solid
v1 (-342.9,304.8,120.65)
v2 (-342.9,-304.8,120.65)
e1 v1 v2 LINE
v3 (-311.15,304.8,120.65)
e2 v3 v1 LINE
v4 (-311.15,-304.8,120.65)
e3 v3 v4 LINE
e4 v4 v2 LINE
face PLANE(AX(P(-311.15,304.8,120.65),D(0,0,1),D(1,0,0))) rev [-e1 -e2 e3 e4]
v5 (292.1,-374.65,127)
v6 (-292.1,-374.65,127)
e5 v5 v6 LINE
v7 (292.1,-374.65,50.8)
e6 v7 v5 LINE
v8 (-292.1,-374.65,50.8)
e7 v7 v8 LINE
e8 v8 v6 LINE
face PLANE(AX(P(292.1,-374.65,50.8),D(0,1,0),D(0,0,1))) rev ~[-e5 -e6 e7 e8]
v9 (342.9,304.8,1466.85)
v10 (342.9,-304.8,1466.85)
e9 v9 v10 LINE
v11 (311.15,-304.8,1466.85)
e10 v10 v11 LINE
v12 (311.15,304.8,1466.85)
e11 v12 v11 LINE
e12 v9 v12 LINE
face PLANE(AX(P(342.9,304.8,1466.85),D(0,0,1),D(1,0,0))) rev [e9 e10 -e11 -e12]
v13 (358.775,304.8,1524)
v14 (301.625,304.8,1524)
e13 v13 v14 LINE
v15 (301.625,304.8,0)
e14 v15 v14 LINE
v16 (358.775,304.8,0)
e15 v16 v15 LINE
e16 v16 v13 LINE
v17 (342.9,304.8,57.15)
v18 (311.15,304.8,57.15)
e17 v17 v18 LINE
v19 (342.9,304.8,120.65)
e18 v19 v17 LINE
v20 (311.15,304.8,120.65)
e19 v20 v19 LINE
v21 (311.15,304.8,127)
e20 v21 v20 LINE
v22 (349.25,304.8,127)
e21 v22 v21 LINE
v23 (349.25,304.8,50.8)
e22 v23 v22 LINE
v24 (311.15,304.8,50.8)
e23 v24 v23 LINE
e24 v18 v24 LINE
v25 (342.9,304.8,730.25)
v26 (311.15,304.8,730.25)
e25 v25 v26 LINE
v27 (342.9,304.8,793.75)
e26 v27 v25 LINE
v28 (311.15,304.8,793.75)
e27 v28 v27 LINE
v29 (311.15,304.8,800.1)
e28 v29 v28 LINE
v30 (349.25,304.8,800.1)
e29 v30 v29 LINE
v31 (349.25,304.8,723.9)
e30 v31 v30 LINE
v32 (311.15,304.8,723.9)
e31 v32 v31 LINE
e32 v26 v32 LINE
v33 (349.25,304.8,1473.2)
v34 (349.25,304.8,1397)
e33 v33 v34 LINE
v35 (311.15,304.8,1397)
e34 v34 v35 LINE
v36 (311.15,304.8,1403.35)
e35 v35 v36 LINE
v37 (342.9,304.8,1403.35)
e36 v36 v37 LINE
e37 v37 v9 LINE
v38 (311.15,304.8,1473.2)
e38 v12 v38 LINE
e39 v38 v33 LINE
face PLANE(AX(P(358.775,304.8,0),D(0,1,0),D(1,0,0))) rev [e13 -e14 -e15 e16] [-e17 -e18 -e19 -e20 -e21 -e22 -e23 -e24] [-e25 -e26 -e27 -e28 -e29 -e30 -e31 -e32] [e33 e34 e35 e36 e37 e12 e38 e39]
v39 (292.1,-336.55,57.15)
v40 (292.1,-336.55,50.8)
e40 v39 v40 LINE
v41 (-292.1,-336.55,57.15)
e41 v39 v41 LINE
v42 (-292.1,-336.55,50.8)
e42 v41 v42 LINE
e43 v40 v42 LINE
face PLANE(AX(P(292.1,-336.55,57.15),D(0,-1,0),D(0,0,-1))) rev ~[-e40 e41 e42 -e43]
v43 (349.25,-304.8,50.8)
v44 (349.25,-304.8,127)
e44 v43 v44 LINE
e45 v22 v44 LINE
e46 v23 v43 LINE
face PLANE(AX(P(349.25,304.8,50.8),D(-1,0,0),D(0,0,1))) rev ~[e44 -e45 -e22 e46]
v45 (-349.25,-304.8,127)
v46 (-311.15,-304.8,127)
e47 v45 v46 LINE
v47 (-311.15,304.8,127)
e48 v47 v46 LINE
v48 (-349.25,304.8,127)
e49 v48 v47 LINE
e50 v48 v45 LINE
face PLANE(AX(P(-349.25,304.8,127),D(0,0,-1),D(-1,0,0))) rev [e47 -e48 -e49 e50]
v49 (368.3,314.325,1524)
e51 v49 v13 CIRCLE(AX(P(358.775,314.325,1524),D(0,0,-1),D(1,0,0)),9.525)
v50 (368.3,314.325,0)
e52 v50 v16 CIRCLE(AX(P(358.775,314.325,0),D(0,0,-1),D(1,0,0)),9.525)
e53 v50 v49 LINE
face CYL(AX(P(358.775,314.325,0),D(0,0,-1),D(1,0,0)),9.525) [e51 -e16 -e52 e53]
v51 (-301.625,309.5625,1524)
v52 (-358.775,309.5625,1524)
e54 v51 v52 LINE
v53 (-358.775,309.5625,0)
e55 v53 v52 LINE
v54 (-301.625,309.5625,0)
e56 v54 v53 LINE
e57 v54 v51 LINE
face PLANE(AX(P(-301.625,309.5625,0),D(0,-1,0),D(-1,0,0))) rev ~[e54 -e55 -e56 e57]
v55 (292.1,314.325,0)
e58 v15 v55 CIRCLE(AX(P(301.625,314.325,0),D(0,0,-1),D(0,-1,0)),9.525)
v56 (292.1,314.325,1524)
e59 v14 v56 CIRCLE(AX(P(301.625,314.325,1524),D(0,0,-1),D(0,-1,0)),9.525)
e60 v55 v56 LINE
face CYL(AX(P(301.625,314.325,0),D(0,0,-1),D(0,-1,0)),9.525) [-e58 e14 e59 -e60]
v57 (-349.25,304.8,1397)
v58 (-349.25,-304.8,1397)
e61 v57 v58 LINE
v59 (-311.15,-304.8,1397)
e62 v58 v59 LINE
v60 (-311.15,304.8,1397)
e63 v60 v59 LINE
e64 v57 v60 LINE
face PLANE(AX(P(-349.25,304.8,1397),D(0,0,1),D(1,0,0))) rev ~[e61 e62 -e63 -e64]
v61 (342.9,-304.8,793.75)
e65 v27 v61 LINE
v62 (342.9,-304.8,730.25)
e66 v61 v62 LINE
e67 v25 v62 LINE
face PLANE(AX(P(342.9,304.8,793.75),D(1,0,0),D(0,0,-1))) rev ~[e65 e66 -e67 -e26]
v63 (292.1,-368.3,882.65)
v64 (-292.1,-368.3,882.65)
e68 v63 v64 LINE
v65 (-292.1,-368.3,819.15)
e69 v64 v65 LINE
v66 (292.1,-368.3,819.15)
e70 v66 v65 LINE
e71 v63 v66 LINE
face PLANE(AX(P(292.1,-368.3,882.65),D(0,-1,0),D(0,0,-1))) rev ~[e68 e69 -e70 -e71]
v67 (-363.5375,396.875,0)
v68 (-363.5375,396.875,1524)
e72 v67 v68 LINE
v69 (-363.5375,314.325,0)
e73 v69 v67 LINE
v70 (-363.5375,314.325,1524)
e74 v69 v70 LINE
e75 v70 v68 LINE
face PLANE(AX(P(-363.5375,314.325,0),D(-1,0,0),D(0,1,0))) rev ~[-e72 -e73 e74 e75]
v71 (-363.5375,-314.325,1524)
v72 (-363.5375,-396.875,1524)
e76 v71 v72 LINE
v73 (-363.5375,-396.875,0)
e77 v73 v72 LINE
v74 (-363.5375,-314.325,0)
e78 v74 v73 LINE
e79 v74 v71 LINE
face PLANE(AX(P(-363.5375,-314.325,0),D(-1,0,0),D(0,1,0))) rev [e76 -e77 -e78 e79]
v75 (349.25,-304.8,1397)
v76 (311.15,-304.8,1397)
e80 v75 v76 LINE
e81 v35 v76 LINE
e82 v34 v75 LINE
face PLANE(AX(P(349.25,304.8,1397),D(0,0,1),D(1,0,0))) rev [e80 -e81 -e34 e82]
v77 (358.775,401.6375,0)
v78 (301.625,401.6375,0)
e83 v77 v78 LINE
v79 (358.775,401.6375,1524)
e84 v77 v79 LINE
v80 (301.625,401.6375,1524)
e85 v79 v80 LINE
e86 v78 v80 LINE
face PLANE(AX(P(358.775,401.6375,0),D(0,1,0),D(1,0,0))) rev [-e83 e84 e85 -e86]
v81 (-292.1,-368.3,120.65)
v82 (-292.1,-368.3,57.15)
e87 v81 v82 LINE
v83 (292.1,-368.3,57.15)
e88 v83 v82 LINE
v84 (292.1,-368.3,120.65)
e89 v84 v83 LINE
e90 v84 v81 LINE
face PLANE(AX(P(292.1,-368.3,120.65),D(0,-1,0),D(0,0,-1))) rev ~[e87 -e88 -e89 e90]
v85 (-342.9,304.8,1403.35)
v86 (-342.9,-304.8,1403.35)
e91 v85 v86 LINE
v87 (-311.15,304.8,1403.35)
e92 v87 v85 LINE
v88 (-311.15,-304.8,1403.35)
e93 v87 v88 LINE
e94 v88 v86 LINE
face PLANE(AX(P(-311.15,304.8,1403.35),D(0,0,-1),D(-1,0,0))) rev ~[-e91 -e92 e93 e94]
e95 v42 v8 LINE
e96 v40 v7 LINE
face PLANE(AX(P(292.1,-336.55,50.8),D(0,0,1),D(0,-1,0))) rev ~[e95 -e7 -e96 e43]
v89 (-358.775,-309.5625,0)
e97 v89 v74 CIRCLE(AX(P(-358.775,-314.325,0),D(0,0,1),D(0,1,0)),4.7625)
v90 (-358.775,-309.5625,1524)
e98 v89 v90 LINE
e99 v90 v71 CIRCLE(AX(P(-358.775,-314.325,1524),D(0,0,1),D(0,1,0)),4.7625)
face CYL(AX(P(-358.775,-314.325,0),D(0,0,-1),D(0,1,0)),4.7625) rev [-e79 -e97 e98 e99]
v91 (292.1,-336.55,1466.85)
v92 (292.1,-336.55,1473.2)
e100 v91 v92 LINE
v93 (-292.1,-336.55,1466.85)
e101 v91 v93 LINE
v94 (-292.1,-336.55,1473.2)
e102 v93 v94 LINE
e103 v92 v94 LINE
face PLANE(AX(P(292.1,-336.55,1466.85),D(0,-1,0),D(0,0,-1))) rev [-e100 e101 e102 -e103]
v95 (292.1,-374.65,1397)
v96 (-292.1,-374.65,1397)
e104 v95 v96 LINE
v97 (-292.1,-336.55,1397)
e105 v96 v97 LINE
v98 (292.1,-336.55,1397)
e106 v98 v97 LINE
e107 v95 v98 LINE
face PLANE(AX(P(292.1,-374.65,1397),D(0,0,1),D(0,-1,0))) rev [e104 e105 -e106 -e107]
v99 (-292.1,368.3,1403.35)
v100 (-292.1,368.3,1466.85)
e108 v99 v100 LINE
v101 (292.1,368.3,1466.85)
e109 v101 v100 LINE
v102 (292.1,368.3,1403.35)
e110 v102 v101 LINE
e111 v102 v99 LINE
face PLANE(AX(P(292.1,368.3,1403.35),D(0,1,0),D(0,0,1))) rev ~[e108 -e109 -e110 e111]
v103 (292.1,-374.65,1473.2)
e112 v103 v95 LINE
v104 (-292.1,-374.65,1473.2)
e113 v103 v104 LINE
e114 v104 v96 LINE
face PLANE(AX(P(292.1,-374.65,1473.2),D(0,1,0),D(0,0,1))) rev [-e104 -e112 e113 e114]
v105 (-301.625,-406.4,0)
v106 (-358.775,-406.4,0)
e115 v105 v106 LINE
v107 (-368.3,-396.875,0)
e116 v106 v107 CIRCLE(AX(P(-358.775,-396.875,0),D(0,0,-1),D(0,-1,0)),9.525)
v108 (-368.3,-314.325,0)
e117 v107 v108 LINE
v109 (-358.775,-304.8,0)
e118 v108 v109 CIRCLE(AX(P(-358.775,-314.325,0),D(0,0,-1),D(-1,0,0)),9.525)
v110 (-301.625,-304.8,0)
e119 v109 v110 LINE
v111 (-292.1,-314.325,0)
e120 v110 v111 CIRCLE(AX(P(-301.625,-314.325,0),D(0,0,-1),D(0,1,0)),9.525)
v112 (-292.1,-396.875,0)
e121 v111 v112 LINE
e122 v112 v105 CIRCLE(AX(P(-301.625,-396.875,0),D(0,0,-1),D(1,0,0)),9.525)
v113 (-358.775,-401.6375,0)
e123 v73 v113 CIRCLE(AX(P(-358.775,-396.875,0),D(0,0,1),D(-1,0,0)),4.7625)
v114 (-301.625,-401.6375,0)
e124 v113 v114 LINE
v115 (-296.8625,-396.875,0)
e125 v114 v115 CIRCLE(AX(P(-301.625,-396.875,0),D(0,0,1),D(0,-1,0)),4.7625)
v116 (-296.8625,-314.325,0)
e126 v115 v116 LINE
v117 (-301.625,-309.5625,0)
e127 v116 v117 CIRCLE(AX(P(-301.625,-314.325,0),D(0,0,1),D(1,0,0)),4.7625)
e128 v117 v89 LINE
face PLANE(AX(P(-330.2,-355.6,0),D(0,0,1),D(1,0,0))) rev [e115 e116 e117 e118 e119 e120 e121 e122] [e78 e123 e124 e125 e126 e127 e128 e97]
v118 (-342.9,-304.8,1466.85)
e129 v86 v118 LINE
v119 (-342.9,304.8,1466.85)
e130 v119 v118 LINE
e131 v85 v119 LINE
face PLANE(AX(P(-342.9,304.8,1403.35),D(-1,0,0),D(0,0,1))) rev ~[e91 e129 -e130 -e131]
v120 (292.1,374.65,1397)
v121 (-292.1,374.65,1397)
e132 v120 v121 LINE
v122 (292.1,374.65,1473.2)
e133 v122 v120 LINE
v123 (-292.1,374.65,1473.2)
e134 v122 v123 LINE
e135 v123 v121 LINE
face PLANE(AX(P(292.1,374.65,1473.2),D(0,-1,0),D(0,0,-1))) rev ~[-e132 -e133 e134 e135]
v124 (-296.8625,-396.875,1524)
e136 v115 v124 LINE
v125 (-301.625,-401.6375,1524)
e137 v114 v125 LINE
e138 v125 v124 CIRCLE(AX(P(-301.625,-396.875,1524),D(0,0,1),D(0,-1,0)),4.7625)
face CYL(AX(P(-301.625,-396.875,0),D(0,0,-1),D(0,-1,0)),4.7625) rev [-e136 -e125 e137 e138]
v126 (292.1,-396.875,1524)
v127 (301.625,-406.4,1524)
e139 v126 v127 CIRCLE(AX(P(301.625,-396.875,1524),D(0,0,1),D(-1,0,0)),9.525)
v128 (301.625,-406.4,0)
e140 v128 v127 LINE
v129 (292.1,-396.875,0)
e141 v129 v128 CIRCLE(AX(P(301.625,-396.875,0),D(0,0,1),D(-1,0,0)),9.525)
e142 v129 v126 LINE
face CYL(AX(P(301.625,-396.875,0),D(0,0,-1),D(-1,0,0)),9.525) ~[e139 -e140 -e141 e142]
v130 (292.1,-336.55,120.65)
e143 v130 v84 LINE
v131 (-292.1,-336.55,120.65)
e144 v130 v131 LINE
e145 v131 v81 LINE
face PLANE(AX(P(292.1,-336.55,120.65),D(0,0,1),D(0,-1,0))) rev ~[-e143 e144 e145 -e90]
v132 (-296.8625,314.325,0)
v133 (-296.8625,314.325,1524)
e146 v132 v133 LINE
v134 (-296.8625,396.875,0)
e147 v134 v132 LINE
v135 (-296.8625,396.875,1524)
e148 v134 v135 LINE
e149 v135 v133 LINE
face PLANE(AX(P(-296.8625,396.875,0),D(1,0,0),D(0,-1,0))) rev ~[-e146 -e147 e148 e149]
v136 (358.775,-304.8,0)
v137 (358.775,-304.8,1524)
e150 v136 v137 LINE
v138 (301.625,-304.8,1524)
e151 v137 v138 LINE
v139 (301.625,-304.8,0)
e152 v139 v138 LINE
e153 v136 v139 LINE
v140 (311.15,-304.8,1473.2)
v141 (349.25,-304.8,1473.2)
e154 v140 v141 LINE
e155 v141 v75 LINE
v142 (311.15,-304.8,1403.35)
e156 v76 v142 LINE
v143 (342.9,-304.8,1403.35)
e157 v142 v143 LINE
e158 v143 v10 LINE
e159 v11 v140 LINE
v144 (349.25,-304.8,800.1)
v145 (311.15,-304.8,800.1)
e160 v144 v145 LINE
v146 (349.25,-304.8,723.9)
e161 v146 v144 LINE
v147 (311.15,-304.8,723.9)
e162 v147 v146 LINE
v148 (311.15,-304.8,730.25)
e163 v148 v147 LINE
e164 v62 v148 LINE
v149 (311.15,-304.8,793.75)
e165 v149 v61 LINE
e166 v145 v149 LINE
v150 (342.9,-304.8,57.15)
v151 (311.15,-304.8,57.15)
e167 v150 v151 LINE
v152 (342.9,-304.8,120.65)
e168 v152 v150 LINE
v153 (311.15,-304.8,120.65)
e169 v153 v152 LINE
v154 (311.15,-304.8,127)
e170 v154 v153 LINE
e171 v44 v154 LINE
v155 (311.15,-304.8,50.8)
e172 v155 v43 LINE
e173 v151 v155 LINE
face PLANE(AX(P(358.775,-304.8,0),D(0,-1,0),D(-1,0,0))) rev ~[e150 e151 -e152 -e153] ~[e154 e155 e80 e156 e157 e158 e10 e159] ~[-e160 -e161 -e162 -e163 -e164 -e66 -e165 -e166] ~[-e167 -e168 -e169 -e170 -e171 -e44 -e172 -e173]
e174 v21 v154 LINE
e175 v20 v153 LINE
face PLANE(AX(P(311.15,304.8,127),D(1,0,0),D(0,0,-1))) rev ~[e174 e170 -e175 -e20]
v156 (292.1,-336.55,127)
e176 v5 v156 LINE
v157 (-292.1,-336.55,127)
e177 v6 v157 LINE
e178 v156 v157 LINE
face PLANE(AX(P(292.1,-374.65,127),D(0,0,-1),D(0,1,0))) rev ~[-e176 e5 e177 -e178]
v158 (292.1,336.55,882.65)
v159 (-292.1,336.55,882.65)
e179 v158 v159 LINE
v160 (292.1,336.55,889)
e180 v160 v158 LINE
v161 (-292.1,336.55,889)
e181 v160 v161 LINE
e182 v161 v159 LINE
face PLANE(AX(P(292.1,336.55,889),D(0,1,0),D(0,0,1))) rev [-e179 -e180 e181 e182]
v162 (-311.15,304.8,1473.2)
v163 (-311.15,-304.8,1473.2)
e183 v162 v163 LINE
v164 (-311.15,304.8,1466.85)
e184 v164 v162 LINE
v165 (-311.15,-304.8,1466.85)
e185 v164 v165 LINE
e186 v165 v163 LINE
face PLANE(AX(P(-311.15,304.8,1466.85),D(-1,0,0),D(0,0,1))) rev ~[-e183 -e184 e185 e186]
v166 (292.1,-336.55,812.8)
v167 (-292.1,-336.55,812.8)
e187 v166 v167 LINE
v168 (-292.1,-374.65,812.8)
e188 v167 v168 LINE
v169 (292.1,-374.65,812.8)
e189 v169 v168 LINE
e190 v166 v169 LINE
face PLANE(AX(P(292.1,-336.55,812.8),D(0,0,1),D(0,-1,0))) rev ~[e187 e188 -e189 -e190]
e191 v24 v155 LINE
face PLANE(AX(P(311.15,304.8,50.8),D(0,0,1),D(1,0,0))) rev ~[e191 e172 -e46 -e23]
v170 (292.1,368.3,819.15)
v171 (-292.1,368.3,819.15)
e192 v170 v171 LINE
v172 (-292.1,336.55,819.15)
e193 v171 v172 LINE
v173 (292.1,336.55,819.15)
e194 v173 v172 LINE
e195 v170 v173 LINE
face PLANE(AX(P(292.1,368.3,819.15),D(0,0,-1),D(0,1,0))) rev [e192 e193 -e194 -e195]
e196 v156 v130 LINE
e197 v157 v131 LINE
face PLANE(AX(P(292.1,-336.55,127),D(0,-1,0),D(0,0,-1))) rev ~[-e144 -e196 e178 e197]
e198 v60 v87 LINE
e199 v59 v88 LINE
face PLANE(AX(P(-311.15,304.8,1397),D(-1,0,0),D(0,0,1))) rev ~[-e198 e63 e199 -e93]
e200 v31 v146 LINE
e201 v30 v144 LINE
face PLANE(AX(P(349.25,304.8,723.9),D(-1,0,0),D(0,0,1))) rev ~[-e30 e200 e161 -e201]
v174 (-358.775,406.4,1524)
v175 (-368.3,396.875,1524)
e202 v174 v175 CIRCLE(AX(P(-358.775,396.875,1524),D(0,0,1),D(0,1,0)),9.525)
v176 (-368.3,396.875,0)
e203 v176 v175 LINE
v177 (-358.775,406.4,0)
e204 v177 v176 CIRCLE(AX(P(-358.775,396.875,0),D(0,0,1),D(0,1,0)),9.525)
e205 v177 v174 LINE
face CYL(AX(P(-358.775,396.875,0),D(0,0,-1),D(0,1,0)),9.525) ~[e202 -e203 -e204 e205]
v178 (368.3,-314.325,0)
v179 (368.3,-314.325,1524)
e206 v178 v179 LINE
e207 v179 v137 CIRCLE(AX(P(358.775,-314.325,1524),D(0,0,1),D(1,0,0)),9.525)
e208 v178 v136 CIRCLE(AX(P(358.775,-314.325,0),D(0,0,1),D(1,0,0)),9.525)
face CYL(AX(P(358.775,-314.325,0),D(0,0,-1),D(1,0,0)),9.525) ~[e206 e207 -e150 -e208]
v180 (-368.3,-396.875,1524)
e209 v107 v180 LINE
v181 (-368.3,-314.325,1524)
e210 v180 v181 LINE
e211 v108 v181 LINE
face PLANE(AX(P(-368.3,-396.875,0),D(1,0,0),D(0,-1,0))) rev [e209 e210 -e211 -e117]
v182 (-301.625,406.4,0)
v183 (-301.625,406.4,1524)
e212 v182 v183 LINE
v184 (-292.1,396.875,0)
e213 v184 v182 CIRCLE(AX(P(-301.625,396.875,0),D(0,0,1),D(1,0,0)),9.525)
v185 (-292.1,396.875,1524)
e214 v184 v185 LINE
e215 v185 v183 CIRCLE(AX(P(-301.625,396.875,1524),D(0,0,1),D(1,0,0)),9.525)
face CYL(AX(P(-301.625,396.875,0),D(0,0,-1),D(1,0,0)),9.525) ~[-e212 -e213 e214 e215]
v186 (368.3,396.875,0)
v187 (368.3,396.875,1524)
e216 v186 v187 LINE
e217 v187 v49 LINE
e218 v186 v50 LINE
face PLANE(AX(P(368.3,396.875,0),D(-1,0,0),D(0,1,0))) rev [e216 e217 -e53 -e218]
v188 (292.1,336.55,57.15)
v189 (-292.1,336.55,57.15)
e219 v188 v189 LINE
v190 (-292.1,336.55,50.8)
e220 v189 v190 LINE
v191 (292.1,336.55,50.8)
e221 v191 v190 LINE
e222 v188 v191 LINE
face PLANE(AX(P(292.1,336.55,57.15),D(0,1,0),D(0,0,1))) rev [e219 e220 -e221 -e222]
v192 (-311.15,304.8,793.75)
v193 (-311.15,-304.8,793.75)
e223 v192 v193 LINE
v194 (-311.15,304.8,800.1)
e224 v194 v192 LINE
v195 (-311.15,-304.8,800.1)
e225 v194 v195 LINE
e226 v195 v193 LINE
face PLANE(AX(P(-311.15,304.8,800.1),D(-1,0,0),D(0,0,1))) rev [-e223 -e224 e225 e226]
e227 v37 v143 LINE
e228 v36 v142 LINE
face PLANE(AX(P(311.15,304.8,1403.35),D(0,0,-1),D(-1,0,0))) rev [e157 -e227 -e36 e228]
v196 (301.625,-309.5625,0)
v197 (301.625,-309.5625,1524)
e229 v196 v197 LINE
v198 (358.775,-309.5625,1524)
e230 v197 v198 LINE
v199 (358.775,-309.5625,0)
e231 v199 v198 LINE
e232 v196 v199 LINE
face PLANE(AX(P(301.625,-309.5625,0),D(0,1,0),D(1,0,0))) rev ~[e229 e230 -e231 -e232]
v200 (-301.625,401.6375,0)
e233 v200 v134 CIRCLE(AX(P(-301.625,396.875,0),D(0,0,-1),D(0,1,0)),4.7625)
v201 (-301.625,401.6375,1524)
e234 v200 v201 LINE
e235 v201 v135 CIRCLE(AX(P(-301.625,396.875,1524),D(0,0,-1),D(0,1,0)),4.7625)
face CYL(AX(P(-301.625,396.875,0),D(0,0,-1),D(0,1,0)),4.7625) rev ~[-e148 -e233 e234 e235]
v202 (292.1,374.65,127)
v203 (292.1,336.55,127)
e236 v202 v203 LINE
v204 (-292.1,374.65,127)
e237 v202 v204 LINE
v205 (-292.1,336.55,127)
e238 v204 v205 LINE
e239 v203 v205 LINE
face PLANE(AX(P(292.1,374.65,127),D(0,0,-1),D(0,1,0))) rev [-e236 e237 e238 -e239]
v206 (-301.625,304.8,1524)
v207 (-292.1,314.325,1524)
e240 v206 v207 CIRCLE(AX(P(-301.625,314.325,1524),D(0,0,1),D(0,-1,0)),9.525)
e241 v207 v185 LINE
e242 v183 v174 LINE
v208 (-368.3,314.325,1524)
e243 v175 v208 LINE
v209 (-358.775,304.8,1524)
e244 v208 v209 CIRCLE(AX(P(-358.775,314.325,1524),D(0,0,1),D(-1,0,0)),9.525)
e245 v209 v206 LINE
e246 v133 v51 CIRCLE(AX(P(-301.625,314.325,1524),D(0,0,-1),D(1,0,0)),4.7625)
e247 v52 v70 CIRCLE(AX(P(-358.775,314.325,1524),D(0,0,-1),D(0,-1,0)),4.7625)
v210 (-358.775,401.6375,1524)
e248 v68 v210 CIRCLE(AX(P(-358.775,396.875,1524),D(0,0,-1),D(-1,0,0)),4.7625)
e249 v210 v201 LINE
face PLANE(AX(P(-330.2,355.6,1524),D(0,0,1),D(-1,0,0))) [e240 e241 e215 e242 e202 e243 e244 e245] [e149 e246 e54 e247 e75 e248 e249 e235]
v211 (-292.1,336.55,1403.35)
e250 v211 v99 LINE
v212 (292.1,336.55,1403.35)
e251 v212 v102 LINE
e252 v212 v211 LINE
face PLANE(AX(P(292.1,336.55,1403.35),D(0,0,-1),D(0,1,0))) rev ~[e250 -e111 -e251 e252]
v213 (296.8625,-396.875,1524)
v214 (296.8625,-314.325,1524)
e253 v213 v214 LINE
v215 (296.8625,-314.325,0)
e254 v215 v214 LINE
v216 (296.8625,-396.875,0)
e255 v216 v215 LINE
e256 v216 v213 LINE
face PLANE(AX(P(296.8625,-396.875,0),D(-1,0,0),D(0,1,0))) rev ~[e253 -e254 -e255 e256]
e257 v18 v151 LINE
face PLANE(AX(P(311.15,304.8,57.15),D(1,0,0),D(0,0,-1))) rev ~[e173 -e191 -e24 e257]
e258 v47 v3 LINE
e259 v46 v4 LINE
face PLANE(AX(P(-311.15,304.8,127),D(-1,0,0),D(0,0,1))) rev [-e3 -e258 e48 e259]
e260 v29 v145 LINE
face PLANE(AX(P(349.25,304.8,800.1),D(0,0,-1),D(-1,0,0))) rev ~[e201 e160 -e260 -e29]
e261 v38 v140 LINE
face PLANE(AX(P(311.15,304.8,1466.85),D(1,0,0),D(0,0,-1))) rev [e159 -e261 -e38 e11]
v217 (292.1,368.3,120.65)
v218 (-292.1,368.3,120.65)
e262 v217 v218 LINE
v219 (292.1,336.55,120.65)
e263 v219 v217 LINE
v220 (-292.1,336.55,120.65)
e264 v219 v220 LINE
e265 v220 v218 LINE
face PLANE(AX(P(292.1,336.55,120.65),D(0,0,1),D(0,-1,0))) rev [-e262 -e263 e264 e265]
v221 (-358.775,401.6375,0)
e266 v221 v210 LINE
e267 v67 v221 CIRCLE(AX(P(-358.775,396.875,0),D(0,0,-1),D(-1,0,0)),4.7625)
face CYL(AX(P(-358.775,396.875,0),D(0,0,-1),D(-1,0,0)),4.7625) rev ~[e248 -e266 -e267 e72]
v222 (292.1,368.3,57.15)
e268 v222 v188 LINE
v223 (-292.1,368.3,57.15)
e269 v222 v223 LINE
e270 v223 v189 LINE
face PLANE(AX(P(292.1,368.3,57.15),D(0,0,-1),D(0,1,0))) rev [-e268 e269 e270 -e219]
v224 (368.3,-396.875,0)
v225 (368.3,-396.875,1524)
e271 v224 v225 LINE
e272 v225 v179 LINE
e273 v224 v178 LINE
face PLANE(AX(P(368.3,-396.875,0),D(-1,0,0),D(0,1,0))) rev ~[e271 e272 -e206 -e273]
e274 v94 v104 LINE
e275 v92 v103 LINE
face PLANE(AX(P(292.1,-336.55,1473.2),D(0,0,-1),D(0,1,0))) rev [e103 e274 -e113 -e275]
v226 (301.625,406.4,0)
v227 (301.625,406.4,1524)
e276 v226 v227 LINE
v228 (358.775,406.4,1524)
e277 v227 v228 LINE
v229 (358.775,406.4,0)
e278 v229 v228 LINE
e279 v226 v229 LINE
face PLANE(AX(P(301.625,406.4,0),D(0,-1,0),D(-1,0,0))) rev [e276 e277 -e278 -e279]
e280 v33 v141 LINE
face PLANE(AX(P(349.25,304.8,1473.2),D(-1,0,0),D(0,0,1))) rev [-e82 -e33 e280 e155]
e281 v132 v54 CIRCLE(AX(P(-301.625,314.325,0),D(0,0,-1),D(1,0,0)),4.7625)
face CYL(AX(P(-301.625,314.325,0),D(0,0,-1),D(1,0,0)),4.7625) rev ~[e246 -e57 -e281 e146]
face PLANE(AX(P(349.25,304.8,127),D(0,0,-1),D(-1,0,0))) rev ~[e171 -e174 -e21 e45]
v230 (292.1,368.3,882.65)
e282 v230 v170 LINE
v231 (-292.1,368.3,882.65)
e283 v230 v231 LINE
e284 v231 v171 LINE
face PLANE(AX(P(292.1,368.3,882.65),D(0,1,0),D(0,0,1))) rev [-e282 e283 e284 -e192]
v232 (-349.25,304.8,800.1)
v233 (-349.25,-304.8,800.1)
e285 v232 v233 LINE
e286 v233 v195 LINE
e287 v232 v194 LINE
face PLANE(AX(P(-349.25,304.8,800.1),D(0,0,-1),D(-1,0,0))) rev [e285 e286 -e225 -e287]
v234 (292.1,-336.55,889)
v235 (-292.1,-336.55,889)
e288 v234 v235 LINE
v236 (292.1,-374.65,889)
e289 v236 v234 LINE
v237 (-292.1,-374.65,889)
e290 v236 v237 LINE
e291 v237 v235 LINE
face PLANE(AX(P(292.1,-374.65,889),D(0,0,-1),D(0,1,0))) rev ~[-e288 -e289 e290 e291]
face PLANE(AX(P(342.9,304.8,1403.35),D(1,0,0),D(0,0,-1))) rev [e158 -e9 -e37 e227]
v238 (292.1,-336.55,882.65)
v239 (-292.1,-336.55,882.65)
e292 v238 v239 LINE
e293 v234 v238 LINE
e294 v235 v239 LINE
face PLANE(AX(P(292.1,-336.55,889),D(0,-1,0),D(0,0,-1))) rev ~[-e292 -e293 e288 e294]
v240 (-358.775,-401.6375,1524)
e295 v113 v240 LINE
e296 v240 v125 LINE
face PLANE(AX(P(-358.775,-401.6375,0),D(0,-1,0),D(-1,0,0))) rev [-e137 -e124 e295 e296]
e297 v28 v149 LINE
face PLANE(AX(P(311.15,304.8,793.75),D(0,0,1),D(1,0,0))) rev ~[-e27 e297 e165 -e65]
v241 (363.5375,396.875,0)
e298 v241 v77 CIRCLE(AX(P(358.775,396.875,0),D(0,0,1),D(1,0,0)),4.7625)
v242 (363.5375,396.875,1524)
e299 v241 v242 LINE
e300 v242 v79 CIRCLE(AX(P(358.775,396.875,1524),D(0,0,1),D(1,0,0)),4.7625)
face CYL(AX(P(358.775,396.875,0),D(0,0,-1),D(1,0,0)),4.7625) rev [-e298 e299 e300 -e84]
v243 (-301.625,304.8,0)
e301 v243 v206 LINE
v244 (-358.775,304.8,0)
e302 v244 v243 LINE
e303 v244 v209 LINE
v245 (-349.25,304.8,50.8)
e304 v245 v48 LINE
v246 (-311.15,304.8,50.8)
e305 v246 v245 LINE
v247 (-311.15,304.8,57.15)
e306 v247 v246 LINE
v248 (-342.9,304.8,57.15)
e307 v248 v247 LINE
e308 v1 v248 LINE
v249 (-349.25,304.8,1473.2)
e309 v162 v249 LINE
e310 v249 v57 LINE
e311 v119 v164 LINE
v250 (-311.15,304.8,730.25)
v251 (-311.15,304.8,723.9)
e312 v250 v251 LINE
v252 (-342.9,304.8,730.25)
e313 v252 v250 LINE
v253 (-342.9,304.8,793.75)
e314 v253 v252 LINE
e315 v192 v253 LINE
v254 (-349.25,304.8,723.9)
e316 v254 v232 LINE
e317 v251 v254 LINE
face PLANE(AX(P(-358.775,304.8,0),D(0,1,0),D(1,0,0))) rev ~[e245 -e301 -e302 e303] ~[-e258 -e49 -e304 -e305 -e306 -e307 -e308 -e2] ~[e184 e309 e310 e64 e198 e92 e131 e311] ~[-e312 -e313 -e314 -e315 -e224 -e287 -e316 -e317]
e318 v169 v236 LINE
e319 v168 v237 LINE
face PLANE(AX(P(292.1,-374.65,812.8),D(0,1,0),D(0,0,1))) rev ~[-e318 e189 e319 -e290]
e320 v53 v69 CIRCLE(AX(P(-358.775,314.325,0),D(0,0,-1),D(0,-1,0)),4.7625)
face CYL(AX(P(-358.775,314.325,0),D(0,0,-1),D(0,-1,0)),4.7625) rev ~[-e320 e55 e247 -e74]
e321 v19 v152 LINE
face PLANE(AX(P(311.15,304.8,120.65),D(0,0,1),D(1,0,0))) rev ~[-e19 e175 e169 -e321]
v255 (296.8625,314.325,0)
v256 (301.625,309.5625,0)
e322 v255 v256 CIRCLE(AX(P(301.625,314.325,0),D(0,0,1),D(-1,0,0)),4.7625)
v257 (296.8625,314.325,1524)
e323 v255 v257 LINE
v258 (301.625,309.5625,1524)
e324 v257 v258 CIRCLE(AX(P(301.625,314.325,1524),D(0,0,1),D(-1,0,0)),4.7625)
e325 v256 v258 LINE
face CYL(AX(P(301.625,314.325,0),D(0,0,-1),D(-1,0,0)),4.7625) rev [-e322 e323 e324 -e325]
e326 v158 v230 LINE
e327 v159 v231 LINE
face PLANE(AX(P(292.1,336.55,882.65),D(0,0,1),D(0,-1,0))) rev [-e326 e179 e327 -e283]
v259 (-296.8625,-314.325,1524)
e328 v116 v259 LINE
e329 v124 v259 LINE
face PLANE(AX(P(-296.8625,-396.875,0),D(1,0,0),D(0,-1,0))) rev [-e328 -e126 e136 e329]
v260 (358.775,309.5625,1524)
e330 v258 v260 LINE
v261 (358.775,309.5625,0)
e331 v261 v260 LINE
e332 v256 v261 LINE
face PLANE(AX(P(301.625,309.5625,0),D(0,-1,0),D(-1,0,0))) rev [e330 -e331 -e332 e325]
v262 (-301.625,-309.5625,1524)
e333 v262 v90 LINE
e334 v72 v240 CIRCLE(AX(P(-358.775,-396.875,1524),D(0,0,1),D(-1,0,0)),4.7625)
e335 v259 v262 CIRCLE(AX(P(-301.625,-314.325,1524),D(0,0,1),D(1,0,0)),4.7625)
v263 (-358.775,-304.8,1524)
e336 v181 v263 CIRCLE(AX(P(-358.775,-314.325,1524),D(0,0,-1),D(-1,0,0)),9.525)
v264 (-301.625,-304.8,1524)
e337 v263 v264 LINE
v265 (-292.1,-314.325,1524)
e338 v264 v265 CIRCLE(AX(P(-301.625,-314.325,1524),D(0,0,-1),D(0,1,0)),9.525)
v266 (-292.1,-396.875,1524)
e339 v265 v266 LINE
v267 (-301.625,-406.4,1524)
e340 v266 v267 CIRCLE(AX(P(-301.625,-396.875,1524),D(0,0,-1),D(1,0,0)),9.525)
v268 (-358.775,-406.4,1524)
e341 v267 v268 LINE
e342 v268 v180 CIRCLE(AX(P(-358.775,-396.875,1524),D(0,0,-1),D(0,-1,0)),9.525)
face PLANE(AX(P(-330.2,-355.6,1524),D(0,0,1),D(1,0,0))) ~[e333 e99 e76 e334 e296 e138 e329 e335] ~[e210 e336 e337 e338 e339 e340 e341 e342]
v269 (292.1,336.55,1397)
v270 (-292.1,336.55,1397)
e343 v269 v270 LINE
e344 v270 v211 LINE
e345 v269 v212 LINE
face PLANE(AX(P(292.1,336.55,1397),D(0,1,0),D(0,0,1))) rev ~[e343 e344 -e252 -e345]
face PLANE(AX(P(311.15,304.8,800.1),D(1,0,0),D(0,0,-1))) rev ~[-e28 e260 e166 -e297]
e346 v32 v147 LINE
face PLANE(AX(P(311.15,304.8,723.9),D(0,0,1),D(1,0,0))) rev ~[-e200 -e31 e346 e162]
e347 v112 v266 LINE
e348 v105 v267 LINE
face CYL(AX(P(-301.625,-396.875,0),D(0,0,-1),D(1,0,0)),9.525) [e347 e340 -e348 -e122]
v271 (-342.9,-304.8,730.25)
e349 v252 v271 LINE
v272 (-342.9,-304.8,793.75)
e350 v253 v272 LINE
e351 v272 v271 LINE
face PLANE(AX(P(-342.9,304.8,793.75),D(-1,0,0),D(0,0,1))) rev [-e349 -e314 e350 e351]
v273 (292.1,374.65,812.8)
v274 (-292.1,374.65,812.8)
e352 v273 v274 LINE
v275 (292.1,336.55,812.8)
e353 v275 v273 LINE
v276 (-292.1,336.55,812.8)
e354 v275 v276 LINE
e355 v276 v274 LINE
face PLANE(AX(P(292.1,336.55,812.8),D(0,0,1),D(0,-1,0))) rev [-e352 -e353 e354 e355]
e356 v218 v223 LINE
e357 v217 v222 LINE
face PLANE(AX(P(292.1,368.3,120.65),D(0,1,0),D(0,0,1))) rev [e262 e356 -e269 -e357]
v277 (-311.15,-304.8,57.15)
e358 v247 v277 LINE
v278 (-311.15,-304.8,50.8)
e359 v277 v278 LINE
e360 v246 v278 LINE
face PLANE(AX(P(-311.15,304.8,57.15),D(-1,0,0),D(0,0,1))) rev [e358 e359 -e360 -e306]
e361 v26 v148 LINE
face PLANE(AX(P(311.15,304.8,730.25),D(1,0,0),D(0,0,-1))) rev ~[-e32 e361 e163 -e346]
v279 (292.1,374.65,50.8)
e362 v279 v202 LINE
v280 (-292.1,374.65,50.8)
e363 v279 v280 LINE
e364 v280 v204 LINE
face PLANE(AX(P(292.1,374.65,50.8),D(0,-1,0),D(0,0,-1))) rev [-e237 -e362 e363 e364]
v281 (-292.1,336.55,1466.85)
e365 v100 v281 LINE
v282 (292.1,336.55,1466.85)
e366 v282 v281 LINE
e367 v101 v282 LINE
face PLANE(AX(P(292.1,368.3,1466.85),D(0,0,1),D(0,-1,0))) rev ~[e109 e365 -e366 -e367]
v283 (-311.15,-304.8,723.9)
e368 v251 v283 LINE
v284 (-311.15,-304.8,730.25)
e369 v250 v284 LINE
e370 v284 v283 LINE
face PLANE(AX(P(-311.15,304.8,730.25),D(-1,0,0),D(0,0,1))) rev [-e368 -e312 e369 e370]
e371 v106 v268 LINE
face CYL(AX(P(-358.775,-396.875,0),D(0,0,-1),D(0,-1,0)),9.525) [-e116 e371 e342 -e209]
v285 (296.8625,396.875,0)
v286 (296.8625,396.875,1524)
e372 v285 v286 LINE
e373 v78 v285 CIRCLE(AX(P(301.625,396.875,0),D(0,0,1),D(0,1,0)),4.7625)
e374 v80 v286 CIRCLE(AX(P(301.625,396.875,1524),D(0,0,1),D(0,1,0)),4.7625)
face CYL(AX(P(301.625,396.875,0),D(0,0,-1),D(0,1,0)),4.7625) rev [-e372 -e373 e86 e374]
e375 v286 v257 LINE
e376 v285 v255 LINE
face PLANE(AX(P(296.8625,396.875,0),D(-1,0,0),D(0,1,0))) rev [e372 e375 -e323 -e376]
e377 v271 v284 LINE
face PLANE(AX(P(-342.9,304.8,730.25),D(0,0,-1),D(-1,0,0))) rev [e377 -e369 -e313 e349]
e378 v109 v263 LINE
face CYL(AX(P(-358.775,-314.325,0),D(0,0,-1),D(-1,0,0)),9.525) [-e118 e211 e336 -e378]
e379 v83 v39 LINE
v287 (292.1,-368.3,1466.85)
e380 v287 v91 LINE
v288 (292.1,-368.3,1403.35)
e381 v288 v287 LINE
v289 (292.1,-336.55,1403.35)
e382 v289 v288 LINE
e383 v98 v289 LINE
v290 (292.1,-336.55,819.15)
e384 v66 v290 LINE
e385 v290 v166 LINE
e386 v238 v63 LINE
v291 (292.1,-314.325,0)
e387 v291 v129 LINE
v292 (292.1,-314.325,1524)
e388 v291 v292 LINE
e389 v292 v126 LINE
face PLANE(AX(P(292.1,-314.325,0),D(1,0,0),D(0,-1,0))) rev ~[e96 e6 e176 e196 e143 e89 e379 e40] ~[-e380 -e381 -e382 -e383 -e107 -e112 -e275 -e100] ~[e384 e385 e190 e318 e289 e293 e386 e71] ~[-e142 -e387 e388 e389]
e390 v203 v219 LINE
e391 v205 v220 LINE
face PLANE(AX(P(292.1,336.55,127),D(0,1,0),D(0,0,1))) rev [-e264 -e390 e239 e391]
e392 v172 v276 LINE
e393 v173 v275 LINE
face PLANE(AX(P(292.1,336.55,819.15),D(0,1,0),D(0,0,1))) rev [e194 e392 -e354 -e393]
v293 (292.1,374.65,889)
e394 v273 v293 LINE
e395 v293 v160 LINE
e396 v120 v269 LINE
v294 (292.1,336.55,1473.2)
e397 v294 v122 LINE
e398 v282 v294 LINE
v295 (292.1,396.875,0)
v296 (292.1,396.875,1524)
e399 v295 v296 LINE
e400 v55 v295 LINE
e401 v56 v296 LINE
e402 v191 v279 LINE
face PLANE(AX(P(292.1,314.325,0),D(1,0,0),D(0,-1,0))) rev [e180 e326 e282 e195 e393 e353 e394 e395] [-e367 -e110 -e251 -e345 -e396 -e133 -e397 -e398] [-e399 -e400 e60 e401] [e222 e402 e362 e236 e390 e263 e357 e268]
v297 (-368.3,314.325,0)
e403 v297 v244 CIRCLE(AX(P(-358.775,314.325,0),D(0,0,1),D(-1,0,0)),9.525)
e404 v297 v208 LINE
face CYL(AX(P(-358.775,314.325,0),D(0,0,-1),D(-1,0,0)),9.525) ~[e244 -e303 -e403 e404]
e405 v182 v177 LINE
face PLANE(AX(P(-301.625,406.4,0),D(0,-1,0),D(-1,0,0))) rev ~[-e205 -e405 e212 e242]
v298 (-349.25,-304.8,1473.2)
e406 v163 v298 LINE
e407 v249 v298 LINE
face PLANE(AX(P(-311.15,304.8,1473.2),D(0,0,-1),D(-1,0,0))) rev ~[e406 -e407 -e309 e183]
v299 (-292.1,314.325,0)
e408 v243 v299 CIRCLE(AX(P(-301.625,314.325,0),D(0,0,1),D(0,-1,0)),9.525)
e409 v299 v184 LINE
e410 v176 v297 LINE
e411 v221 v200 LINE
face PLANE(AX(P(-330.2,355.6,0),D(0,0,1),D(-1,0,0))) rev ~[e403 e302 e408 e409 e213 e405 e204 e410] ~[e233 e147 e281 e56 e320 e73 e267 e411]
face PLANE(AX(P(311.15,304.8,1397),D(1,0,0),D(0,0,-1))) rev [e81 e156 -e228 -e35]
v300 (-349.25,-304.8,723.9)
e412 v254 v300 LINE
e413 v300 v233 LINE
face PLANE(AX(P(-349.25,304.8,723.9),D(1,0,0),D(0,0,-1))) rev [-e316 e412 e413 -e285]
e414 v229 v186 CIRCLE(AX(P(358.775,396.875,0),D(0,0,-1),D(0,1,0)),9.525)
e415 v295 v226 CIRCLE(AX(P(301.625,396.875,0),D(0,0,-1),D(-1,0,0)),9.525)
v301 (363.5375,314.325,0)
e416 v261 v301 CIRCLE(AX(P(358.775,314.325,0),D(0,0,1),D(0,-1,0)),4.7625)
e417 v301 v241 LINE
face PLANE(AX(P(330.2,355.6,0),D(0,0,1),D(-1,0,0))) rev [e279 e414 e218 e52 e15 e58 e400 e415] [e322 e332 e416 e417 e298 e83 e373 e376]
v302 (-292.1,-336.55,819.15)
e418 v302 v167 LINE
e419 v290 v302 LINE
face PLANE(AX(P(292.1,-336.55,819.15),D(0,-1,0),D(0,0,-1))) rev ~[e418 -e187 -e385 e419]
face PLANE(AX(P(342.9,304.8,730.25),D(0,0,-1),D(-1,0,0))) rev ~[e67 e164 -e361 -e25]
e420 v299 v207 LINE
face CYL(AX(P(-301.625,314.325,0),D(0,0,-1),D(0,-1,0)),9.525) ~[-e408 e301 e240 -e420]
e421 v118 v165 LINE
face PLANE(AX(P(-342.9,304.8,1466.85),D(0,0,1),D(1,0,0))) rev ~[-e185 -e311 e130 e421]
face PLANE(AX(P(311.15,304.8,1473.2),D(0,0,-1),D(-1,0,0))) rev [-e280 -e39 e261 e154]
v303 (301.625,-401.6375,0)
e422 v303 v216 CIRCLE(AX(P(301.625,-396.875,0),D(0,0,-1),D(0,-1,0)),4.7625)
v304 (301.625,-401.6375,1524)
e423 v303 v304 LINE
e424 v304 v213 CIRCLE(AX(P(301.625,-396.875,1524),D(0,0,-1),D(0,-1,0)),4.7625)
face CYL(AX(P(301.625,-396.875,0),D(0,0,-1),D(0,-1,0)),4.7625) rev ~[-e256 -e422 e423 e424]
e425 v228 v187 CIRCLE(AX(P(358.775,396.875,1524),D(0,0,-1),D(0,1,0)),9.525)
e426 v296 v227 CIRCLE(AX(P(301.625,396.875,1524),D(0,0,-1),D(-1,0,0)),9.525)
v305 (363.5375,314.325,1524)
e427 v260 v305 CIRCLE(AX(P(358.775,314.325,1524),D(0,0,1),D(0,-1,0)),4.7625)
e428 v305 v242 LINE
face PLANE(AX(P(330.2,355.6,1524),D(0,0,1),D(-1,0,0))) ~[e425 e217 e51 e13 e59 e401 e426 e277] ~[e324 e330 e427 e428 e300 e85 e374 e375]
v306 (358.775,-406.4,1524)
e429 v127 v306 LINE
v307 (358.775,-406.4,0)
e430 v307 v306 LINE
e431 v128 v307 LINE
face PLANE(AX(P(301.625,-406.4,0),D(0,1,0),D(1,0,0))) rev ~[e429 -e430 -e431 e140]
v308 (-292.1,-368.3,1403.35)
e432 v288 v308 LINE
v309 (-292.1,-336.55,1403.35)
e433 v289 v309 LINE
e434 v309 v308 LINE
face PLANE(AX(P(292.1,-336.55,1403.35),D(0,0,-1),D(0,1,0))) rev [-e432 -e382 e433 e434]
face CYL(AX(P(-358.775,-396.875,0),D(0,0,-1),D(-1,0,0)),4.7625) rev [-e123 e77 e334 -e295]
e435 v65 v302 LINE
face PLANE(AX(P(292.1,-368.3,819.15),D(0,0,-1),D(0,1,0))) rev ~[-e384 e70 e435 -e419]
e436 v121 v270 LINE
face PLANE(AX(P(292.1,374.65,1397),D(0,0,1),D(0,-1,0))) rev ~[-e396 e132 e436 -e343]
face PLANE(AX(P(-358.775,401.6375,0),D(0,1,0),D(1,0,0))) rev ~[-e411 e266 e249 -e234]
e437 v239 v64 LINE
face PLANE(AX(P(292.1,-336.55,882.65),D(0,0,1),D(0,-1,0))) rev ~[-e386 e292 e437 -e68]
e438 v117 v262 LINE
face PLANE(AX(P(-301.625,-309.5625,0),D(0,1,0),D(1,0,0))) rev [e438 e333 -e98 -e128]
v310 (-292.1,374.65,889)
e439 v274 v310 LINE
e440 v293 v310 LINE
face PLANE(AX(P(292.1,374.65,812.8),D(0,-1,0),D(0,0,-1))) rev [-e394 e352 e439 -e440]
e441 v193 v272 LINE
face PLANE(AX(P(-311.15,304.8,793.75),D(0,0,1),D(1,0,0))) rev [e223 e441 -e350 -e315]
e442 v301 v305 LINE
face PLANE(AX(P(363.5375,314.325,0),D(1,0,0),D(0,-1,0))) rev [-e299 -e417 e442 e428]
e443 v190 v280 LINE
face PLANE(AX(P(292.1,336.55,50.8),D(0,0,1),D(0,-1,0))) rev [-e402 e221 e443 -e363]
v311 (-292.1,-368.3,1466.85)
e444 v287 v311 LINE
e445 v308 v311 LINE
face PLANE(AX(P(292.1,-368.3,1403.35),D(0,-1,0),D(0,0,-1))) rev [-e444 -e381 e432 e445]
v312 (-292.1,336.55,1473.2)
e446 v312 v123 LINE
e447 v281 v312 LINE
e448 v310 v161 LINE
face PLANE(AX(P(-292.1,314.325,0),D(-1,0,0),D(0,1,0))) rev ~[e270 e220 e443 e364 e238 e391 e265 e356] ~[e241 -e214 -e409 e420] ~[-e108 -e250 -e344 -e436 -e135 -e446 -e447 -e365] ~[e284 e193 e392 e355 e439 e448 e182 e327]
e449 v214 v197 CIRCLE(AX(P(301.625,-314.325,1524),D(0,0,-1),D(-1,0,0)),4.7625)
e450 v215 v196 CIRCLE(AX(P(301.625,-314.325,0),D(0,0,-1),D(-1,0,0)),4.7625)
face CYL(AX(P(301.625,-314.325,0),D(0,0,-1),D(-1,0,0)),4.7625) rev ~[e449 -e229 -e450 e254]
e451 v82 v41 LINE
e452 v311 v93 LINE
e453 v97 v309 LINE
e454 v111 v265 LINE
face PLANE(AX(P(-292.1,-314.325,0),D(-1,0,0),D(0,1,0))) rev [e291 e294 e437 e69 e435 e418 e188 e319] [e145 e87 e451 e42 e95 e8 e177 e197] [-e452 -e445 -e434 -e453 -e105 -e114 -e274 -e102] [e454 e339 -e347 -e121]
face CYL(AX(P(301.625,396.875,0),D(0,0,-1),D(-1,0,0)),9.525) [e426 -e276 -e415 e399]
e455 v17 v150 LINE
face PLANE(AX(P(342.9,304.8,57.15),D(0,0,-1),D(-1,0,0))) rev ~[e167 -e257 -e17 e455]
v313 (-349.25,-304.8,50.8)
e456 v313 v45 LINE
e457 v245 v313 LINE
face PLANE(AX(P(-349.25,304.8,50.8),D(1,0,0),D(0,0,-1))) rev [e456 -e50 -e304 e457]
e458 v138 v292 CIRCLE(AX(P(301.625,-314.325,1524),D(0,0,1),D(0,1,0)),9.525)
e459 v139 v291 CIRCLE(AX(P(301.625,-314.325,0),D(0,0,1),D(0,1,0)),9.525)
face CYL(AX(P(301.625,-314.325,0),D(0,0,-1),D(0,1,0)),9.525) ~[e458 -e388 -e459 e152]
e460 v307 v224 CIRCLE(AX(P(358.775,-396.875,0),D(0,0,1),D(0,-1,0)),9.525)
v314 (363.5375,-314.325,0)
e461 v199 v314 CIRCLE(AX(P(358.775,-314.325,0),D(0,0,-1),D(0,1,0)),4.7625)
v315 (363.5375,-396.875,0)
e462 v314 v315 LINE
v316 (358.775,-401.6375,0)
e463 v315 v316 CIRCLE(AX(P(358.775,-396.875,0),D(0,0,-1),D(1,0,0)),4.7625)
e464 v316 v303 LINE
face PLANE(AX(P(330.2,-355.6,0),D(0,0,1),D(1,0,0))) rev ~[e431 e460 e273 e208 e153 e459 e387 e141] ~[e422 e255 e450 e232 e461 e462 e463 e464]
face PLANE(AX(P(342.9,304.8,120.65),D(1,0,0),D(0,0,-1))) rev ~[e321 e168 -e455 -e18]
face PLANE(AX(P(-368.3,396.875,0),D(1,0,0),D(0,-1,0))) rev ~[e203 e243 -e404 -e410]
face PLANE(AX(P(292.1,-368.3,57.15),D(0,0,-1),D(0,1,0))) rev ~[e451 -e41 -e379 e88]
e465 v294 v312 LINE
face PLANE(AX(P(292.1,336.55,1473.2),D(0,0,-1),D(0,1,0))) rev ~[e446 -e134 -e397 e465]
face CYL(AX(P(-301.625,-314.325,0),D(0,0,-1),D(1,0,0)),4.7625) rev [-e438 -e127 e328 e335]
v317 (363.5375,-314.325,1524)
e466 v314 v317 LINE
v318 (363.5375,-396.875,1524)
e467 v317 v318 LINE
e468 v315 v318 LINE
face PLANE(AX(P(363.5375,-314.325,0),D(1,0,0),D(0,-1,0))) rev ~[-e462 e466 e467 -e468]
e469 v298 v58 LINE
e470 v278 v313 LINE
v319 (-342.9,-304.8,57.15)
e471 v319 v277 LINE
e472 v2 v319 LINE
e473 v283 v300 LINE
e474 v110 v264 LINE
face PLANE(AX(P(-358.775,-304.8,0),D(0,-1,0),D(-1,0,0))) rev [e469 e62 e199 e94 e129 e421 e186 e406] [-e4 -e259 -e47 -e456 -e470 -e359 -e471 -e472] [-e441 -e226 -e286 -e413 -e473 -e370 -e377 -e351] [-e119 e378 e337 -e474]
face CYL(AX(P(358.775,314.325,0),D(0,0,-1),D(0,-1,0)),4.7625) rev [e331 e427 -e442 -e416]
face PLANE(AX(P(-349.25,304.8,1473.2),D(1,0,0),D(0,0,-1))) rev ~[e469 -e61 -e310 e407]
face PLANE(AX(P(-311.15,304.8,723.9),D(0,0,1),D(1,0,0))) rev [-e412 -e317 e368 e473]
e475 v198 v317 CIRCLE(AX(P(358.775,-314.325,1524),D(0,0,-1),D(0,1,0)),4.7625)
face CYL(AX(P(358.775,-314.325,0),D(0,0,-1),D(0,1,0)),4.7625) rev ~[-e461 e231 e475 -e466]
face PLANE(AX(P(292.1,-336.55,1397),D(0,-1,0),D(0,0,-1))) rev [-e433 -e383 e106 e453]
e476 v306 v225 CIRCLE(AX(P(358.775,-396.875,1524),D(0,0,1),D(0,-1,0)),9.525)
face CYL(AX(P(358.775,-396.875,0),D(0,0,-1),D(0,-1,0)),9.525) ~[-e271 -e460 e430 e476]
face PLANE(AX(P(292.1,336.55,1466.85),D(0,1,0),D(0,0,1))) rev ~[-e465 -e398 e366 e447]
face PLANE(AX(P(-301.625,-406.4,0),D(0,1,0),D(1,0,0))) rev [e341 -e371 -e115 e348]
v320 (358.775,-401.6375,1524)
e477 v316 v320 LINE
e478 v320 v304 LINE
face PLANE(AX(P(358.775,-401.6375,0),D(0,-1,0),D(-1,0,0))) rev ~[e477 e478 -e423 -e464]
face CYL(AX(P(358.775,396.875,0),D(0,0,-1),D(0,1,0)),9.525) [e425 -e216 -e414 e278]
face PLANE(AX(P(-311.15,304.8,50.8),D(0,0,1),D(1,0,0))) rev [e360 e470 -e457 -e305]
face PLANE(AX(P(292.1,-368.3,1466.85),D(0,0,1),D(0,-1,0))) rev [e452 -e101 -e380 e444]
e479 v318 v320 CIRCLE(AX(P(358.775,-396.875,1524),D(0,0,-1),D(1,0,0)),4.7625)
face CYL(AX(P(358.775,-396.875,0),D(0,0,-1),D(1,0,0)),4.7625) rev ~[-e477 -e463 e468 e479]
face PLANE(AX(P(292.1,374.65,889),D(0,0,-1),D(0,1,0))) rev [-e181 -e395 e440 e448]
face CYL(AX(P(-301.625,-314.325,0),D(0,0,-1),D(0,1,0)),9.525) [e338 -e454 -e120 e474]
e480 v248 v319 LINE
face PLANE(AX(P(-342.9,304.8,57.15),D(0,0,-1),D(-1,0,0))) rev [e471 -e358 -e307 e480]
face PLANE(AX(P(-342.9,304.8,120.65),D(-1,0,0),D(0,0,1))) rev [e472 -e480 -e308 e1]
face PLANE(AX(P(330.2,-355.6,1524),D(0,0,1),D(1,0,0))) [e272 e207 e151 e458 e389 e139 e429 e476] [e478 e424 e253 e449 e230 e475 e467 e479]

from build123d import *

# Parameters (mm, degrees)
F1_DEPTH  = 1524
F5_DEPTH  = 609.6
F11_DEPTH = 584.2
F16_R     = 71.4113893101
F17_DEPTH = 320.04


with BuildPart() as f1:
    # F0 (on Top) → F1 (new body)
    with BuildSketch(Plane.XY):
        with BuildLine():
            Line((358.775, -304.8), (301.625, -304.8))
            ThreePointArc((301.625, -304.8), (294.8898079092, -307.5898079092), (292.1, -314.325))
            Line((292.1, -314.325), (292.1, -396.875))
            ThreePointArc((292.1, -396.875), (294.8898079092, -403.6101920908), (301.625, -406.4))
            Line((301.625, -406.4), (358.775, -406.4))
            ThreePointArc((358.775, -406.4), (365.5101920908, -403.6101920908), (368.3, -396.875))
            Line((368.3, -396.875), (368.3, -314.325))
            ThreePointArc((368.3, -314.325), (365.5101920908, -307.5898079092), (358.775, -304.8))
        make_face()
        with BuildLine():
            ThreePointArc((296.8625, -314.325), (298.2574039546, -310.9574039546), (301.625, -309.5625))
            Line((301.625, -309.5625), (358.775, -309.5625))
            ThreePointArc((358.775, -309.5625), (362.1425960454, -310.9574039546), (363.5375, -314.325))
            Line((363.5375, -314.325), (363.5375, -396.875))
            ThreePointArc((363.5375, -396.875), (362.1425960454, -400.2425960454), (358.775, -401.6375))
            Line((358.775, -401.6375), (301.625, -401.6375))
            ThreePointArc((301.625, -401.6375), (298.2574039546, -400.2425960454), (296.8625, -396.875))
            Line((296.8625, -396.875), (296.8625, -314.325))
        make_face(mode=Mode.SUBTRACT)
    extrude(amount=F1_DEPTH)


with BuildPart() as f2_1:
    # F2: instance of F1
    add(f1.part.mirror(Plane.XZ))


with BuildPart() as f3_1:
    # F3: instance of F1
    add(f1.part.mirror(Plane.YZ))


with BuildPart() as f3_2:
    # F3: instance of F2_1
    add(f2_1.part.mirror(Plane.YZ))


with BuildPart() as f5:
    # F4 (on face) → F5 (new body)
    with BuildSketch(Plane.XZ.offset(-304.8)):
        Polygon((311.15, 57.15), (311.15, 50.8), (349.25, 50.8), (349.25, 127), (311.15, 127), (311.15, 120.65), (342.9, 120.65), (342.9, 57.15), align=None)
    extrude(amount=F5_DEPTH)


with BuildPart() as f7_1:
    # F7: instance of F5
    add(f5.part.mirror(Plane.XY.offset(762)))


with BuildPart() as f8_1:
    # F8: copy of F5
    add(f5.part.moved(Location((0, 0, 673.1))))


with BuildPart() as f9_1:
    # F9: instance of F8_1
    add(f8_1.part.mirror(Plane.YZ))


with BuildPart() as f9_2:
    # F9: instance of F7_1
    add(f7_1.part.mirror(Plane.YZ))


with BuildPart() as f9_3:
    # F9: instance of F5
    add(f5.part.mirror(Plane.YZ))


with BuildPart() as f11:
    # F10 (on face) → F11 (new body)
    with BuildSketch(Plane(origin=(292.1, 0, 0), x_dir=(0, -1, 0), z_dir=(-1, 0, 0))):
        Polygon((336.55, 57.15), (336.55, 50.8), (374.65, 50.8), (374.65, 127), (336.55, 127), (336.55, 120.65), (368.3, 120.65), (368.3, 57.15), align=None)
    extrude(amount=F11_DEPTH)


with BuildPart() as f12_1:
    # F12: copy of F11
    add(f11.part.moved(Location((0, 0, 762))))


with BuildPart() as f13_1:
    # F13: instance of F11
    add(f11.part.mirror(Plane.XY.offset(762)))


with BuildPart() as f1_1:
    add(f1.part)

    add(f2_1.part)  # F14 merges F2_1

    add(f3_1.part)  # F14 merges F3_1

    add(f3_2.part)  # F14 merges F3_2

    add(f5.part)  # F14 merges F5

    add(f7_1.part)  # F14 merges F7_1

    add(f8_1.part)  # F14 merges F8_1

    add(f9_1.part)  # F14 merges F9_1

    add(f9_2.part)  # F14 merges F9_2

    add(f9_3.part)  # F14 merges F9_3

    add(f11.part)  # F14 merges F11

    add(f12_1.part)  # F14 merges F12_1

    add(f13_1.part)  # F14 merges F13_1
    # F14: F11, F12_1, F13_1 across plane
    add(f11.part.mirror(Plane.XZ))
    add(f12_1.part.mirror(Plane.XZ))
    add(f13_1.part.mirror(Plane.XZ))


with BuildPart() as f17:
    # F16 (on offset) → F17 (new body)
    with BuildSketch(Plane.XZ.offset(501.65)):
        with Locations((0, 351.0118424892)):
            Circle(F16_R)
    extrude(amount=F17_DEPTH)


solid = f1_1.part
